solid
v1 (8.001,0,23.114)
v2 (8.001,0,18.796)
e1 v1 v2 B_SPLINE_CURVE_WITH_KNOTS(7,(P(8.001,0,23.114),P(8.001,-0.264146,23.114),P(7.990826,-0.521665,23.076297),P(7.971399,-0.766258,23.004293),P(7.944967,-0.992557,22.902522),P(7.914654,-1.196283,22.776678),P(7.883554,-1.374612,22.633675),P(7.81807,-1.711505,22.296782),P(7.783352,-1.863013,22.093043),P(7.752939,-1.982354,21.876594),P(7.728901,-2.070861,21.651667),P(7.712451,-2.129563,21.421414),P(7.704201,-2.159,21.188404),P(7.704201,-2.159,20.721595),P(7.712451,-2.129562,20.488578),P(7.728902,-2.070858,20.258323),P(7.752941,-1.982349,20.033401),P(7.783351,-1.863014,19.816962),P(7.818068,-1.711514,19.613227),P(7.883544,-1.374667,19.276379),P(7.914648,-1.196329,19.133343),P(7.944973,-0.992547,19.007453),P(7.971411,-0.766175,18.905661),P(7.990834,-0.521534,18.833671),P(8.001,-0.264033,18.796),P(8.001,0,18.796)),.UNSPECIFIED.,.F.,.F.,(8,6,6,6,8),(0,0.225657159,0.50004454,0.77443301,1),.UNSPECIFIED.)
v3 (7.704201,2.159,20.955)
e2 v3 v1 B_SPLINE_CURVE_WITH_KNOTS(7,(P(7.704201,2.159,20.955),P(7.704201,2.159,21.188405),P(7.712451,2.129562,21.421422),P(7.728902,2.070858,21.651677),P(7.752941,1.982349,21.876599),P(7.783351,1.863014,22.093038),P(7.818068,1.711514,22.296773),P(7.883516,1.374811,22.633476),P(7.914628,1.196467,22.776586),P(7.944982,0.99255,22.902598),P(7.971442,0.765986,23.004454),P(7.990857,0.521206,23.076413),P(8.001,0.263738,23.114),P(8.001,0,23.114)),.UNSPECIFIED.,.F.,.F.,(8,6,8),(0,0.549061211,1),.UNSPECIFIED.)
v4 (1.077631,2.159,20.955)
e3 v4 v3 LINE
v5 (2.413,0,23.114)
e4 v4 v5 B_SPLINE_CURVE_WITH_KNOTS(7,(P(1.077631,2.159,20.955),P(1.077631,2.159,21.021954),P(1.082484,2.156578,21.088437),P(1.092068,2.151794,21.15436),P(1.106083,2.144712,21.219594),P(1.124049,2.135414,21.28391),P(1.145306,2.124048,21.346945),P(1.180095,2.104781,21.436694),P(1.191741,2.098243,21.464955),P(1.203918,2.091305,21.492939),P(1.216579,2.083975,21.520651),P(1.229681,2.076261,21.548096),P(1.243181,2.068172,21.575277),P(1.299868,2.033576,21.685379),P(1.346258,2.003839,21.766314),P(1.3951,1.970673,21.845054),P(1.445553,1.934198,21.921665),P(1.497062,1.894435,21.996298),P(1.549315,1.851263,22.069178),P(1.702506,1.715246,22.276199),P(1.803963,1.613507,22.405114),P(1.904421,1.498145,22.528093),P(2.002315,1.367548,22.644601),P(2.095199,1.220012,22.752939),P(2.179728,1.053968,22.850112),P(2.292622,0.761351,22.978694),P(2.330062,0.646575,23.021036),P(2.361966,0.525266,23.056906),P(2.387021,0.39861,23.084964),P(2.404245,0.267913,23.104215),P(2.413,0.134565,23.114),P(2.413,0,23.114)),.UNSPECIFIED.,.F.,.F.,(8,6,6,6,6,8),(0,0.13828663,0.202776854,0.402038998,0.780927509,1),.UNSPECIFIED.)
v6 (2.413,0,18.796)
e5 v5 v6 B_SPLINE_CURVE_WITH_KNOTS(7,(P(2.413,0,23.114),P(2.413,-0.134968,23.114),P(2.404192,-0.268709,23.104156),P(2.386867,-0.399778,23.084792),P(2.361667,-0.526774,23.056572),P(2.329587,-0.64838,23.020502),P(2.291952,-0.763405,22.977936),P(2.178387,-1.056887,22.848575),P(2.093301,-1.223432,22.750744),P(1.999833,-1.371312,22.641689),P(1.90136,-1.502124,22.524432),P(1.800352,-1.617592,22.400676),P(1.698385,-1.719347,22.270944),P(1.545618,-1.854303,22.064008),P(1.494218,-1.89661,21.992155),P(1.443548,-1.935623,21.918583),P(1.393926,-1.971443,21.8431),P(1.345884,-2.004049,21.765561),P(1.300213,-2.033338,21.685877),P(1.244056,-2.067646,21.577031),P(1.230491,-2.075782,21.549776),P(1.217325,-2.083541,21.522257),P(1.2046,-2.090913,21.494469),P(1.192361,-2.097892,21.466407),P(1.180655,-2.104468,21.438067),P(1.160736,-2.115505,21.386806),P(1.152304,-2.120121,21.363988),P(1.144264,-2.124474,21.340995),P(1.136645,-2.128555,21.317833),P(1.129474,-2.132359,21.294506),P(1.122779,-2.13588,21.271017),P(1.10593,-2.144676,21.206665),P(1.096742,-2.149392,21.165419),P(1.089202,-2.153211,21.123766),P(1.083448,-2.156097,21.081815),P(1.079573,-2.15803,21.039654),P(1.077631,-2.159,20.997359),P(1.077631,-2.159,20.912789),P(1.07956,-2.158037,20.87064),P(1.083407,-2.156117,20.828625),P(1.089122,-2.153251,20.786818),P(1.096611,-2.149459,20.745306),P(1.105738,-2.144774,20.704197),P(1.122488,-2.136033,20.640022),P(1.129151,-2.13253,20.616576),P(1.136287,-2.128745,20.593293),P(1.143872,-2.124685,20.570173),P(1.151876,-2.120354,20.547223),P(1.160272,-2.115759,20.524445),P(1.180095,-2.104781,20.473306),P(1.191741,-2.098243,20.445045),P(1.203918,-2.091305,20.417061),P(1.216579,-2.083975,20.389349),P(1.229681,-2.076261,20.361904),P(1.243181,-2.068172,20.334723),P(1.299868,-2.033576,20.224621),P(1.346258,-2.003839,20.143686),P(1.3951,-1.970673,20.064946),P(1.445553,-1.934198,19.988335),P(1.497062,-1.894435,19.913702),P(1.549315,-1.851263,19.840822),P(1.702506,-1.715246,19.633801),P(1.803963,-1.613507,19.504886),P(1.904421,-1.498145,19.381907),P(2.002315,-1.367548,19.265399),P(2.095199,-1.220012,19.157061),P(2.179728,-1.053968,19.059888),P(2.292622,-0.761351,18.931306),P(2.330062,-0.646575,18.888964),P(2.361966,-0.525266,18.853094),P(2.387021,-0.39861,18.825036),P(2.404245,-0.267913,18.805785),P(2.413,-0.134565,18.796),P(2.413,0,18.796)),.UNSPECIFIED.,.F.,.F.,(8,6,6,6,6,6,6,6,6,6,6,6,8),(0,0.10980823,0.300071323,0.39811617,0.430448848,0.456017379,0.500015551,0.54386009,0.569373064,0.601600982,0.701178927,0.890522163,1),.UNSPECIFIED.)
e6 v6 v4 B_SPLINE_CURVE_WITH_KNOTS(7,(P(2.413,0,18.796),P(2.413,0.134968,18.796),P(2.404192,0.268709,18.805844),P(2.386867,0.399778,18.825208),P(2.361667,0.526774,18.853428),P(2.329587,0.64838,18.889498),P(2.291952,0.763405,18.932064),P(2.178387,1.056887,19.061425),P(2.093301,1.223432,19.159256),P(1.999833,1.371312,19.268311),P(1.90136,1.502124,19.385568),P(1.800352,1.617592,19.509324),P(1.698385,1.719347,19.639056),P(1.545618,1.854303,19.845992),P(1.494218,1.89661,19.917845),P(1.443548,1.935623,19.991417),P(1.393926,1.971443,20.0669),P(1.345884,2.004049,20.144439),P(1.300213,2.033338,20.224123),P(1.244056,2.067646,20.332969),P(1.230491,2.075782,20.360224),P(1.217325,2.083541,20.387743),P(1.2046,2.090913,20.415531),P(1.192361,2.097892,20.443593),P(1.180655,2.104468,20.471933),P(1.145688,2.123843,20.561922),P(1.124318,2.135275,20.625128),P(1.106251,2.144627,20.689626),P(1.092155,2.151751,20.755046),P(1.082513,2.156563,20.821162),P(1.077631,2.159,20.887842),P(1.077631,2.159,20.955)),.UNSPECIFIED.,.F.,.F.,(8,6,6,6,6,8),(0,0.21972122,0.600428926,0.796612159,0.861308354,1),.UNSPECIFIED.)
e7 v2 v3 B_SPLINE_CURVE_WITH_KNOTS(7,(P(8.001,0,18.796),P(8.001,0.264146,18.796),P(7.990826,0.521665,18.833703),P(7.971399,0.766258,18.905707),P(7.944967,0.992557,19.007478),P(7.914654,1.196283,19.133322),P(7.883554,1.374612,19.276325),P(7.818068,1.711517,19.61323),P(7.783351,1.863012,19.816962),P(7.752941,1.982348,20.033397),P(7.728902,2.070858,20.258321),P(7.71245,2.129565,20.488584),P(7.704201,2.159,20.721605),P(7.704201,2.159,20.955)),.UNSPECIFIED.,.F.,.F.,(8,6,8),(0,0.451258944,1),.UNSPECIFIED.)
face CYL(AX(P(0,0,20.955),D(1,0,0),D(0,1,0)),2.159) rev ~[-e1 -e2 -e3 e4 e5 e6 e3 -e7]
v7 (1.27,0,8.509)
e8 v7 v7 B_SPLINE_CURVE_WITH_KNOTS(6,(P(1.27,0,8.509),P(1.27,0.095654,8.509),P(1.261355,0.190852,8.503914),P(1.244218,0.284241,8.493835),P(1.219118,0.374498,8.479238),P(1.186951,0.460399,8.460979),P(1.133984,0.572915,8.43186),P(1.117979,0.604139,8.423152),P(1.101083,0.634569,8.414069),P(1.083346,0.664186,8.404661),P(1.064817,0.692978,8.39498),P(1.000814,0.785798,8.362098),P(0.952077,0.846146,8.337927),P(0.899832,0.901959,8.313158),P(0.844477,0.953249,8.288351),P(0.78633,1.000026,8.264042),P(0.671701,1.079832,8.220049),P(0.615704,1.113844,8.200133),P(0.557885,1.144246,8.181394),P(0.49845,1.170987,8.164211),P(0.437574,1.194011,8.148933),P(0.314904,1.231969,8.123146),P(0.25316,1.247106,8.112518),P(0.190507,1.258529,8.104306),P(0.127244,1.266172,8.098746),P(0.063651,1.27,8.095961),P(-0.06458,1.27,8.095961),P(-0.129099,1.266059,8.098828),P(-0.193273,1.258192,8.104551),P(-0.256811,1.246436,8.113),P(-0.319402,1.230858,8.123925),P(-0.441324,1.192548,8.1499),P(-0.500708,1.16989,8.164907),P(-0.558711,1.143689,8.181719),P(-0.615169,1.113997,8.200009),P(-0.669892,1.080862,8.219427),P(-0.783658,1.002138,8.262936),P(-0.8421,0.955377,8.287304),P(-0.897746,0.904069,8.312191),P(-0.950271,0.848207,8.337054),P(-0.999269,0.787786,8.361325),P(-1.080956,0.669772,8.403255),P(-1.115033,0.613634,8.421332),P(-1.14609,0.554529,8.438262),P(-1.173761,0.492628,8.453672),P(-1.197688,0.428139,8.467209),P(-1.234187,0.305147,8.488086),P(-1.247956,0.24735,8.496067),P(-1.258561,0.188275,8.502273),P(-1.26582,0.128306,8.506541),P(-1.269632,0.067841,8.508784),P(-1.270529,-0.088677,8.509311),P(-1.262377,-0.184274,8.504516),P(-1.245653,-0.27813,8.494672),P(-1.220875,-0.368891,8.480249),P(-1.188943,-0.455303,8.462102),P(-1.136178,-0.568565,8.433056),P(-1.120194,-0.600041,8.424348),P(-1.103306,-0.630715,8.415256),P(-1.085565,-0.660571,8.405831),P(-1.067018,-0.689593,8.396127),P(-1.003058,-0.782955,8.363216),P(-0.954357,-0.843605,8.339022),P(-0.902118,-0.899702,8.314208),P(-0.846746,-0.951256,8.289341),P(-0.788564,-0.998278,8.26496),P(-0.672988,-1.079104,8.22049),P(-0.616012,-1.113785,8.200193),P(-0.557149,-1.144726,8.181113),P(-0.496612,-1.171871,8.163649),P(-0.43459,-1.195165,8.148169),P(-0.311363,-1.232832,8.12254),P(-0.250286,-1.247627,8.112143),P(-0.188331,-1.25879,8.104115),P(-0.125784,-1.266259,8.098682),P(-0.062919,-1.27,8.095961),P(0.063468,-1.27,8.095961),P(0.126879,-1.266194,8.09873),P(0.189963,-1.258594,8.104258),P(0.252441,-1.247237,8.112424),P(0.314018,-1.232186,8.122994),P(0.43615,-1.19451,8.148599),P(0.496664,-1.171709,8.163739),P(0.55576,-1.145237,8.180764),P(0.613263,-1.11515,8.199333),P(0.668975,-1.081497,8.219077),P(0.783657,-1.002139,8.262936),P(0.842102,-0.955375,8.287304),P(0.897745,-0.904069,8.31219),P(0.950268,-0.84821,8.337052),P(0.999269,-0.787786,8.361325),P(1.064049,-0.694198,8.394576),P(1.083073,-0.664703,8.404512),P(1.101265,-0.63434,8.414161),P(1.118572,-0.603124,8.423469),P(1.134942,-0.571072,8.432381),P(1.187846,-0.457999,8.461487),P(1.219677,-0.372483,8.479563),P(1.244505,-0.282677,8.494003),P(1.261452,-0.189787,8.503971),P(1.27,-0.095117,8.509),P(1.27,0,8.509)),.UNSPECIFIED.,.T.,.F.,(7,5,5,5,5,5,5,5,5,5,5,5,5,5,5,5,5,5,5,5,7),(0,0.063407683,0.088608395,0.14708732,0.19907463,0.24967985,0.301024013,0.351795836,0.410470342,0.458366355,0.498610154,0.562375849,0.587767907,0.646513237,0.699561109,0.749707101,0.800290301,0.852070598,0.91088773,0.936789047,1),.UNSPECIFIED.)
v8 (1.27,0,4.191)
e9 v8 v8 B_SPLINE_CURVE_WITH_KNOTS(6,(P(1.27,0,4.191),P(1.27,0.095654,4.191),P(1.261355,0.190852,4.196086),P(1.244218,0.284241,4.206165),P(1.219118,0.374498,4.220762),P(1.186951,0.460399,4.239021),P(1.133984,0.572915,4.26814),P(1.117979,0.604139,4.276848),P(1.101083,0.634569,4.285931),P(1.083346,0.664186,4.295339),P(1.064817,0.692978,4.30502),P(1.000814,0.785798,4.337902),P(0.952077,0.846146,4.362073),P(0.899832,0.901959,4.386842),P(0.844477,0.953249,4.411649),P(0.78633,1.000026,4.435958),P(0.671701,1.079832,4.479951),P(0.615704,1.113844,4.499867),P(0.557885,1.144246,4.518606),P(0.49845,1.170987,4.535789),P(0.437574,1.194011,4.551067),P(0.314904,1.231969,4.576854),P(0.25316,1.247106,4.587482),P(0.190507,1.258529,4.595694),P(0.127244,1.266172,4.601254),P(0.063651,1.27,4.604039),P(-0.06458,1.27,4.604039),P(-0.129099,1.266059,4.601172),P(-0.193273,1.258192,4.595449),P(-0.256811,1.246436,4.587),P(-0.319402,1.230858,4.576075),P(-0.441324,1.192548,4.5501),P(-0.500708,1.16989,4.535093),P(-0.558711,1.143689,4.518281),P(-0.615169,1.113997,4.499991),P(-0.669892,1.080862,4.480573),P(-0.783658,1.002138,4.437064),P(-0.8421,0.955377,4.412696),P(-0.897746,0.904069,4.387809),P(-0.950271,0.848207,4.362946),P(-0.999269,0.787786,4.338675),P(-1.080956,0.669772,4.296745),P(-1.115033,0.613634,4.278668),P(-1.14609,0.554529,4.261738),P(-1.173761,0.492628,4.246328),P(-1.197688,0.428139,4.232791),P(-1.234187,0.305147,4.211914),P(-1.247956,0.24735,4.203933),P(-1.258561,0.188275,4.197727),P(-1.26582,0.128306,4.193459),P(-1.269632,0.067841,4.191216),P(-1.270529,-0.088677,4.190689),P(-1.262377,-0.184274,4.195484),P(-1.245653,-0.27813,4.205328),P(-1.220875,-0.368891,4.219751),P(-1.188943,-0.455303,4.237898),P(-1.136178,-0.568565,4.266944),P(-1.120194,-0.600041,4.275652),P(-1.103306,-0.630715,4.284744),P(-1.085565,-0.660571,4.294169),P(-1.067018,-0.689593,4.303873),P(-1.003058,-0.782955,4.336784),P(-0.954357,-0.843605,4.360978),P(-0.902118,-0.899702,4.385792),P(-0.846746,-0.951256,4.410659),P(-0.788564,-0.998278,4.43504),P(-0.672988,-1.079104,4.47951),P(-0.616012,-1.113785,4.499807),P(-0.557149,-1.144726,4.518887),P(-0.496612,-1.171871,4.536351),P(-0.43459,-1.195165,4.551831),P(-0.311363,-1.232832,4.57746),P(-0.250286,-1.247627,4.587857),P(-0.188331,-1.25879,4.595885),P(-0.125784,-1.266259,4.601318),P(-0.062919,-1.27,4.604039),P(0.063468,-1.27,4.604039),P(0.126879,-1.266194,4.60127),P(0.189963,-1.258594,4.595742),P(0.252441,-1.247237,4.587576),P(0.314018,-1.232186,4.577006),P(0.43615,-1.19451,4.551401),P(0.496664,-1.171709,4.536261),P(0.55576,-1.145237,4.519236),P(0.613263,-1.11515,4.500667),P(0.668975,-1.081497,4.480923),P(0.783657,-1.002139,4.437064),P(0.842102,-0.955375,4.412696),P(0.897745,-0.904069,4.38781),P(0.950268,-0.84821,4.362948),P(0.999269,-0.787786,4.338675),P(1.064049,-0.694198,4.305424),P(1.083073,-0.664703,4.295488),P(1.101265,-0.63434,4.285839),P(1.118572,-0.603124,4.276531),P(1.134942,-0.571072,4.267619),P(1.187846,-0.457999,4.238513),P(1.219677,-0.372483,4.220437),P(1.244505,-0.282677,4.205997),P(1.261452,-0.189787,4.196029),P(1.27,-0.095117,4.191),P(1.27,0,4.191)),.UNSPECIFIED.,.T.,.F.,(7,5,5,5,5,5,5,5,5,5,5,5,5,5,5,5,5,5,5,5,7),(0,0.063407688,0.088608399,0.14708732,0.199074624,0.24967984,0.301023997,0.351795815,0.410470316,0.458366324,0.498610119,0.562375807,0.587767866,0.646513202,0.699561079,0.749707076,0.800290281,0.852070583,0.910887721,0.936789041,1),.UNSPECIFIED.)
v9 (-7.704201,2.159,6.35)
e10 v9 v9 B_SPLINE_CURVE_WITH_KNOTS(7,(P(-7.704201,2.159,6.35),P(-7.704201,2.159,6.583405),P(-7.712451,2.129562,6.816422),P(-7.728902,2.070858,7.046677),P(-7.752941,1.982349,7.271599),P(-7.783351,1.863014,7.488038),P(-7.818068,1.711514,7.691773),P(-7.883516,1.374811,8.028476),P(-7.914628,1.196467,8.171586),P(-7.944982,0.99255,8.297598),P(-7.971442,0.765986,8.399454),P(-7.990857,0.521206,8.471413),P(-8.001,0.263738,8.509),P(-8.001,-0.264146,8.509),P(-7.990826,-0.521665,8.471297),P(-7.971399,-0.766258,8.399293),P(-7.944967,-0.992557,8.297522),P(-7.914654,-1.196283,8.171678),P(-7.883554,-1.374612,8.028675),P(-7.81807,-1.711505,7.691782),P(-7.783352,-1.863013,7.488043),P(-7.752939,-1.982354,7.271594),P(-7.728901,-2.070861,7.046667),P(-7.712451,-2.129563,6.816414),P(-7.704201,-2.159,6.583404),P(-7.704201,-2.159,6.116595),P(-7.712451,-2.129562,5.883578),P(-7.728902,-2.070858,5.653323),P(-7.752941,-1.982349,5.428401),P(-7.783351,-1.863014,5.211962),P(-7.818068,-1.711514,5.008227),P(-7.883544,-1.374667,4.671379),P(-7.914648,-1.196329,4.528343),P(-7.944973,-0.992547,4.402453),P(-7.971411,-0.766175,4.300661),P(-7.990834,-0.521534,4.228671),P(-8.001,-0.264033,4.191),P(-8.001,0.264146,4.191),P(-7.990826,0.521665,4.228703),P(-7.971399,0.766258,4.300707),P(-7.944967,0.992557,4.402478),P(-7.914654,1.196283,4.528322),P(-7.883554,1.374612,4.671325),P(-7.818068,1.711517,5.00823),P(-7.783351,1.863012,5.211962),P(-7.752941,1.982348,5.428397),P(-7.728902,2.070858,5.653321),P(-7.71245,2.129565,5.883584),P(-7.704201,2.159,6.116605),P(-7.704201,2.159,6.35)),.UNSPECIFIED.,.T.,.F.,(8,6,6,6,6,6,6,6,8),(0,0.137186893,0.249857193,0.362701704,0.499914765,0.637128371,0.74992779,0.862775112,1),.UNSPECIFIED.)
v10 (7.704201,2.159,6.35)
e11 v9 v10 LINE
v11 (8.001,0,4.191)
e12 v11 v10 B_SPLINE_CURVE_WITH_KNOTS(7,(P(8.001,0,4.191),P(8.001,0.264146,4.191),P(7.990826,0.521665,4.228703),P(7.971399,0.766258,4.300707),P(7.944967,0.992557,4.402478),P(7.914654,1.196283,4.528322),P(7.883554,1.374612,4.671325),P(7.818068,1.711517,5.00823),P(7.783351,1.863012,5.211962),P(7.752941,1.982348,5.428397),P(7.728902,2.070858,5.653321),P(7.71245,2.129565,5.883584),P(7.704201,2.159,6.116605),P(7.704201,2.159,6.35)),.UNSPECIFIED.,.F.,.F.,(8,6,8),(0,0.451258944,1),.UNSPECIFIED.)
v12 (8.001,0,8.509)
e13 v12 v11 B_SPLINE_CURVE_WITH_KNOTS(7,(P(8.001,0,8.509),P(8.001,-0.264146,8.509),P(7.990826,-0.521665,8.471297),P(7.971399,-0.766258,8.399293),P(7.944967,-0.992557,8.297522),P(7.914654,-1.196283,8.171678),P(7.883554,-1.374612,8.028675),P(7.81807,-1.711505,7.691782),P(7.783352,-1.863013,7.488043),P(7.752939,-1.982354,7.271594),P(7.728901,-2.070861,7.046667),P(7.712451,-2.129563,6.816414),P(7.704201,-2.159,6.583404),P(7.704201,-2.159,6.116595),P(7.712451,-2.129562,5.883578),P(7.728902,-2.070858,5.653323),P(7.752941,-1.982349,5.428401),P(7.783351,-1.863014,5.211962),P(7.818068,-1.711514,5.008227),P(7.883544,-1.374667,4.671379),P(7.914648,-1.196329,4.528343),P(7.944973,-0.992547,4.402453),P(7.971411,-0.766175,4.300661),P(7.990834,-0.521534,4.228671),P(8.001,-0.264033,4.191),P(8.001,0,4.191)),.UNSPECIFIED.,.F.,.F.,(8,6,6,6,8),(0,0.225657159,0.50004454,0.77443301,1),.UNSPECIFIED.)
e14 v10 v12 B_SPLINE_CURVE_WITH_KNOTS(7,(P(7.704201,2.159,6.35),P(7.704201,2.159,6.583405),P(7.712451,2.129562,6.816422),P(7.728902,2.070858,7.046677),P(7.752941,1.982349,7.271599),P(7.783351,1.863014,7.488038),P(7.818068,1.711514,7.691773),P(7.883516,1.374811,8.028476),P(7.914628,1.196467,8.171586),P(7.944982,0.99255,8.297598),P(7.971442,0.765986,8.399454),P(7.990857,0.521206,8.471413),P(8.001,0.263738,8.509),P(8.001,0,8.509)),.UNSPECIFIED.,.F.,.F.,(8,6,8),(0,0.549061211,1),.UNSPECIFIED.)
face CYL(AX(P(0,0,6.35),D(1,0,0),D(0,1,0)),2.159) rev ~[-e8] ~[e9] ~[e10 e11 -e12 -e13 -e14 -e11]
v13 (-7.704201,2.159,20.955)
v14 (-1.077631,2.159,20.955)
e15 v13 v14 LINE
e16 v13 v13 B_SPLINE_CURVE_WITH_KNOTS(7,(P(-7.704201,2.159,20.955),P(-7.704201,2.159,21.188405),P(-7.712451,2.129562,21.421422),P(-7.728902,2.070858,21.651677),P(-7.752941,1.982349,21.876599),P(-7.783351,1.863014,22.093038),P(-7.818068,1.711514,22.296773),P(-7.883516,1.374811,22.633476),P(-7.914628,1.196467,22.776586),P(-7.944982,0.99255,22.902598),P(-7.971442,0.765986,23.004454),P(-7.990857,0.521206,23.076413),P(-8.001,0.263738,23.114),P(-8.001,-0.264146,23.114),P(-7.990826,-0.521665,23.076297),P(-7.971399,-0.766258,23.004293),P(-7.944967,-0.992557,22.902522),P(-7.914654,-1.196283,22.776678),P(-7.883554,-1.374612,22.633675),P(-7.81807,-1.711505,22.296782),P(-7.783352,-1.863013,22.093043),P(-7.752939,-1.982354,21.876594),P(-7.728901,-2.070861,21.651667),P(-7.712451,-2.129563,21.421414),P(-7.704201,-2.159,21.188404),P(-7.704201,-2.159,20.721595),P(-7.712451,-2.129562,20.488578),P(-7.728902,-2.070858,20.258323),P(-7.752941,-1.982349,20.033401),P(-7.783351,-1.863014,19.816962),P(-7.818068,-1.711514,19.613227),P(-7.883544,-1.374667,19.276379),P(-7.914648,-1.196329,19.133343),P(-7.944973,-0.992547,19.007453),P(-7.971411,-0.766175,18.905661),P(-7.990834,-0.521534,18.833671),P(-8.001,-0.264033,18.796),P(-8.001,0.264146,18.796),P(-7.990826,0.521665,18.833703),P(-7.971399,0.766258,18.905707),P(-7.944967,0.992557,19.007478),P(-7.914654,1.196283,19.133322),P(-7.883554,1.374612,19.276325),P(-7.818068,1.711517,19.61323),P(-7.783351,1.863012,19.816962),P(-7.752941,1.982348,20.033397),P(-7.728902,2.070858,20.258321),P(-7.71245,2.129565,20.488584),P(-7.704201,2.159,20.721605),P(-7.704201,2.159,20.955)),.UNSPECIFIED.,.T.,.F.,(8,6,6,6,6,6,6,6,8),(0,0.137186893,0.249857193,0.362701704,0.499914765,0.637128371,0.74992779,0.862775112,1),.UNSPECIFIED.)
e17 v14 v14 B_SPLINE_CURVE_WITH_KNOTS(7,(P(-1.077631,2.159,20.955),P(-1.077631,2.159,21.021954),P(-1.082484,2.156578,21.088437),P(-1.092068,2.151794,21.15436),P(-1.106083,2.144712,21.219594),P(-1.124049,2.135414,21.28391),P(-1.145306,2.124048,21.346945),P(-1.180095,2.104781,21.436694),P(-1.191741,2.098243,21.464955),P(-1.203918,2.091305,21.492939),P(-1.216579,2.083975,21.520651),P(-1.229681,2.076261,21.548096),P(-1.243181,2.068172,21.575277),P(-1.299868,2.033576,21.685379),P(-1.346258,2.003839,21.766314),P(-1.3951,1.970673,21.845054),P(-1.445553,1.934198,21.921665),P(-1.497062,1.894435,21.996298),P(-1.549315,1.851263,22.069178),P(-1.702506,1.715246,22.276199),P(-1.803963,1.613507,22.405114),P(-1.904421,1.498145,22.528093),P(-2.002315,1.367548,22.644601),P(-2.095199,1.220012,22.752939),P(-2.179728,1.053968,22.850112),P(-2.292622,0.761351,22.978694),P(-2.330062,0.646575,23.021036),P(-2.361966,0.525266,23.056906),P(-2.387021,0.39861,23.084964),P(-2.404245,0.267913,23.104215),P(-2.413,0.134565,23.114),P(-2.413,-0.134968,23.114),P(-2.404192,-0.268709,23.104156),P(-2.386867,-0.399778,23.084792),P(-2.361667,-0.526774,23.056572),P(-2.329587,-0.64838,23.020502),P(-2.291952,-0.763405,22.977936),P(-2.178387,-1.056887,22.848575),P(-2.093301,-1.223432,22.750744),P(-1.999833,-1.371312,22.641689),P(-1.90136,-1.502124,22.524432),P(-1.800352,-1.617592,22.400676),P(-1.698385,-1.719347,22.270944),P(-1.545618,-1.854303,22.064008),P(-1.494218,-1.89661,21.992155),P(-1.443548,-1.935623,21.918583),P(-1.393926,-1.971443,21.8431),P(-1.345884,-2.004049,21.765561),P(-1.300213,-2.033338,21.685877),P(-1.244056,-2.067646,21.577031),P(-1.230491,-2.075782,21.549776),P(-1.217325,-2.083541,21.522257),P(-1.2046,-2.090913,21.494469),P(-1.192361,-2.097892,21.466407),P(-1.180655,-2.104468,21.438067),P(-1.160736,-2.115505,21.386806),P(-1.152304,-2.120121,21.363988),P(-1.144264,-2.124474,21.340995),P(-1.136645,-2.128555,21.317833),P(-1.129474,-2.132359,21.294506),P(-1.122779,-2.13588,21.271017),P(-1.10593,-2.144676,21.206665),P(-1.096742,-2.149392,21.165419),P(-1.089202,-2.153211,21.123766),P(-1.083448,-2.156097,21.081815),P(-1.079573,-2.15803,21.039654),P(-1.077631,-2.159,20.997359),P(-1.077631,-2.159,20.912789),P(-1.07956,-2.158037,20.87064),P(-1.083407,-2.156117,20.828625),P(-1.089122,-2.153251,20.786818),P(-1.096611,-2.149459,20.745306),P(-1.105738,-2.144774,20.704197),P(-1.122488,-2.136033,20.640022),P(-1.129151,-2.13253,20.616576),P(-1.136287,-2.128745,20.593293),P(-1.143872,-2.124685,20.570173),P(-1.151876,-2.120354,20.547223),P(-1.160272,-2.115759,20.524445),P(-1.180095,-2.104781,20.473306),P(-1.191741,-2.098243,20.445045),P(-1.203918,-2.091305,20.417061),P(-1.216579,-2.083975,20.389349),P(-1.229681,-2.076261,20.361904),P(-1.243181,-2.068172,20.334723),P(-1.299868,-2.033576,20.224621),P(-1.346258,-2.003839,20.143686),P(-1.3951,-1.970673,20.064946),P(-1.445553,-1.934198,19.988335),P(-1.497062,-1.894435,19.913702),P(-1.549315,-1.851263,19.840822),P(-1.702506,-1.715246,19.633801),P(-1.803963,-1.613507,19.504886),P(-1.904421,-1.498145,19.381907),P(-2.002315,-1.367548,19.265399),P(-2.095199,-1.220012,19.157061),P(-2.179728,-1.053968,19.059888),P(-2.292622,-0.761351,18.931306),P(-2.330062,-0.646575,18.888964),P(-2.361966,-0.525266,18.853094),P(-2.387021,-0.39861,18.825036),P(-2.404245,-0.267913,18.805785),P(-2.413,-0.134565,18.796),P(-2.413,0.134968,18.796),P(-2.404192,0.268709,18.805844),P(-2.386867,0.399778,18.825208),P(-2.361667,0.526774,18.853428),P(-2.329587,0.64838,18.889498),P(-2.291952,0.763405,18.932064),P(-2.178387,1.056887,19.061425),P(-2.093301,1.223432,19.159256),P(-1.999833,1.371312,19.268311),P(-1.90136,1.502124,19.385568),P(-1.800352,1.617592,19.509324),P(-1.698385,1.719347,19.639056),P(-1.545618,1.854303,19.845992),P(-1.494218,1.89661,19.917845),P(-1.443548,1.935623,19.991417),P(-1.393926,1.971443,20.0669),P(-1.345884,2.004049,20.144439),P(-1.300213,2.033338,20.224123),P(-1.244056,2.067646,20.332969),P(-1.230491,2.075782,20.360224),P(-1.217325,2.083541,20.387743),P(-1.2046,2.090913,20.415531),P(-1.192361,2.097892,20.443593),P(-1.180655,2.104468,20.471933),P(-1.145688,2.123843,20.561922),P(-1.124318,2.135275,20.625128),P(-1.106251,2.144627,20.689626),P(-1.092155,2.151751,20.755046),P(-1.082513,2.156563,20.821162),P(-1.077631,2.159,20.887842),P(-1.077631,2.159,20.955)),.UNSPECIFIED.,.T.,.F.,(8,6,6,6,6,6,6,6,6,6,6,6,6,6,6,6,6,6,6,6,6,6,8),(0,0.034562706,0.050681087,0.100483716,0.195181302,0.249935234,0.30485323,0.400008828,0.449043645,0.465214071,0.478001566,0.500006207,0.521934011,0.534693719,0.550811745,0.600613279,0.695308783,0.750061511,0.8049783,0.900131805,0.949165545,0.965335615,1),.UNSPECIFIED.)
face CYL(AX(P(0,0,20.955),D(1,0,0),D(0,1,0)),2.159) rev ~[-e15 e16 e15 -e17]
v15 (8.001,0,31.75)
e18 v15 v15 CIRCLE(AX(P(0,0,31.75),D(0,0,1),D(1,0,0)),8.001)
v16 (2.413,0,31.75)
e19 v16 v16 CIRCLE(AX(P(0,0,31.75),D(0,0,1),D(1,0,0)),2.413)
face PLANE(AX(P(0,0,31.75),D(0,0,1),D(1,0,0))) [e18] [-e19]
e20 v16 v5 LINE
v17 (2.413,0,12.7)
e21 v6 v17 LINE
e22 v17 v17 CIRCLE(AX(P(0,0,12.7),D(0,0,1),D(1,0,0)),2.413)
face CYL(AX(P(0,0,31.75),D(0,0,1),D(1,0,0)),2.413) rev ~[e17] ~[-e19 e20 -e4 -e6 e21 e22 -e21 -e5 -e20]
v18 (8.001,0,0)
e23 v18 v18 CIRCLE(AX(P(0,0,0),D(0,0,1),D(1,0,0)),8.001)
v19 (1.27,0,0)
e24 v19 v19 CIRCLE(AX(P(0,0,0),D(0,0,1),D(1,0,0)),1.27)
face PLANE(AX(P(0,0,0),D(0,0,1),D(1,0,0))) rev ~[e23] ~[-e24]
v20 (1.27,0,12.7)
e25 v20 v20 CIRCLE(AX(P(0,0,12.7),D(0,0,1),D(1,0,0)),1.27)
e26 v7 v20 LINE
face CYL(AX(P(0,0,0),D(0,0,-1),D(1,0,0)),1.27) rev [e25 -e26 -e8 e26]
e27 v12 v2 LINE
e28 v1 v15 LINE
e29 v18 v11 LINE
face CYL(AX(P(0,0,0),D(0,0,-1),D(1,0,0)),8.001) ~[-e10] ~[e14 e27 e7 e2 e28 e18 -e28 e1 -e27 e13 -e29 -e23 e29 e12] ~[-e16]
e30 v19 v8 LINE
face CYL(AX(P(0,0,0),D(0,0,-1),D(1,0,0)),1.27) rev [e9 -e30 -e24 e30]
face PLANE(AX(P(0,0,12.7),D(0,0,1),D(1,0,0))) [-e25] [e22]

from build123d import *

# Parameters (mm, degrees)
F0_R     = 8.001
F0_R_2   = 1.27
F1_DEPTH = 31.75
F2_R     = 2.413
F2_R_2   = 1.27
F3_DEPTH = 19.05
F4_R     = 2.159
F5_DEPTH = 12.7
F6_DEPTH = 12.7


with BuildPart() as f1:
    # F0 (on Top) → F1 (new body)
    with BuildSketch(Plane.XY):
        Circle(F0_R)
        Circle(F0_R_2, mode=Mode.SUBTRACT)
    extrude(amount=F1_DEPTH)

    # F2 (on face) → F3 (cut)
    with BuildSketch(Plane.XY.offset(31.75)):
        Circle(F2_R)
        Circle(F2_R_2, mode=Mode.SUBTRACT)
    extrude(amount=-F3_DEPTH, mode=Mode.SUBTRACT)

    # F4 (on Right) → F5 (cut, symmetric)
    with BuildSketch(Plane.YZ):
        with Locations((0, 20.955)):
            Circle(F4_R)
    extrude(amount=F5_DEPTH, both=True, mode=Mode.SUBTRACT)

    # F4 (on Right) → F6 (cut, symmetric)
    with BuildSketch(Plane.YZ):
        with Locations((0, 6.35)):
            Circle(F4_R)
    extrude(amount=F6_DEPTH, both=True, mode=Mode.SUBTRACT)


solid = f1.part
